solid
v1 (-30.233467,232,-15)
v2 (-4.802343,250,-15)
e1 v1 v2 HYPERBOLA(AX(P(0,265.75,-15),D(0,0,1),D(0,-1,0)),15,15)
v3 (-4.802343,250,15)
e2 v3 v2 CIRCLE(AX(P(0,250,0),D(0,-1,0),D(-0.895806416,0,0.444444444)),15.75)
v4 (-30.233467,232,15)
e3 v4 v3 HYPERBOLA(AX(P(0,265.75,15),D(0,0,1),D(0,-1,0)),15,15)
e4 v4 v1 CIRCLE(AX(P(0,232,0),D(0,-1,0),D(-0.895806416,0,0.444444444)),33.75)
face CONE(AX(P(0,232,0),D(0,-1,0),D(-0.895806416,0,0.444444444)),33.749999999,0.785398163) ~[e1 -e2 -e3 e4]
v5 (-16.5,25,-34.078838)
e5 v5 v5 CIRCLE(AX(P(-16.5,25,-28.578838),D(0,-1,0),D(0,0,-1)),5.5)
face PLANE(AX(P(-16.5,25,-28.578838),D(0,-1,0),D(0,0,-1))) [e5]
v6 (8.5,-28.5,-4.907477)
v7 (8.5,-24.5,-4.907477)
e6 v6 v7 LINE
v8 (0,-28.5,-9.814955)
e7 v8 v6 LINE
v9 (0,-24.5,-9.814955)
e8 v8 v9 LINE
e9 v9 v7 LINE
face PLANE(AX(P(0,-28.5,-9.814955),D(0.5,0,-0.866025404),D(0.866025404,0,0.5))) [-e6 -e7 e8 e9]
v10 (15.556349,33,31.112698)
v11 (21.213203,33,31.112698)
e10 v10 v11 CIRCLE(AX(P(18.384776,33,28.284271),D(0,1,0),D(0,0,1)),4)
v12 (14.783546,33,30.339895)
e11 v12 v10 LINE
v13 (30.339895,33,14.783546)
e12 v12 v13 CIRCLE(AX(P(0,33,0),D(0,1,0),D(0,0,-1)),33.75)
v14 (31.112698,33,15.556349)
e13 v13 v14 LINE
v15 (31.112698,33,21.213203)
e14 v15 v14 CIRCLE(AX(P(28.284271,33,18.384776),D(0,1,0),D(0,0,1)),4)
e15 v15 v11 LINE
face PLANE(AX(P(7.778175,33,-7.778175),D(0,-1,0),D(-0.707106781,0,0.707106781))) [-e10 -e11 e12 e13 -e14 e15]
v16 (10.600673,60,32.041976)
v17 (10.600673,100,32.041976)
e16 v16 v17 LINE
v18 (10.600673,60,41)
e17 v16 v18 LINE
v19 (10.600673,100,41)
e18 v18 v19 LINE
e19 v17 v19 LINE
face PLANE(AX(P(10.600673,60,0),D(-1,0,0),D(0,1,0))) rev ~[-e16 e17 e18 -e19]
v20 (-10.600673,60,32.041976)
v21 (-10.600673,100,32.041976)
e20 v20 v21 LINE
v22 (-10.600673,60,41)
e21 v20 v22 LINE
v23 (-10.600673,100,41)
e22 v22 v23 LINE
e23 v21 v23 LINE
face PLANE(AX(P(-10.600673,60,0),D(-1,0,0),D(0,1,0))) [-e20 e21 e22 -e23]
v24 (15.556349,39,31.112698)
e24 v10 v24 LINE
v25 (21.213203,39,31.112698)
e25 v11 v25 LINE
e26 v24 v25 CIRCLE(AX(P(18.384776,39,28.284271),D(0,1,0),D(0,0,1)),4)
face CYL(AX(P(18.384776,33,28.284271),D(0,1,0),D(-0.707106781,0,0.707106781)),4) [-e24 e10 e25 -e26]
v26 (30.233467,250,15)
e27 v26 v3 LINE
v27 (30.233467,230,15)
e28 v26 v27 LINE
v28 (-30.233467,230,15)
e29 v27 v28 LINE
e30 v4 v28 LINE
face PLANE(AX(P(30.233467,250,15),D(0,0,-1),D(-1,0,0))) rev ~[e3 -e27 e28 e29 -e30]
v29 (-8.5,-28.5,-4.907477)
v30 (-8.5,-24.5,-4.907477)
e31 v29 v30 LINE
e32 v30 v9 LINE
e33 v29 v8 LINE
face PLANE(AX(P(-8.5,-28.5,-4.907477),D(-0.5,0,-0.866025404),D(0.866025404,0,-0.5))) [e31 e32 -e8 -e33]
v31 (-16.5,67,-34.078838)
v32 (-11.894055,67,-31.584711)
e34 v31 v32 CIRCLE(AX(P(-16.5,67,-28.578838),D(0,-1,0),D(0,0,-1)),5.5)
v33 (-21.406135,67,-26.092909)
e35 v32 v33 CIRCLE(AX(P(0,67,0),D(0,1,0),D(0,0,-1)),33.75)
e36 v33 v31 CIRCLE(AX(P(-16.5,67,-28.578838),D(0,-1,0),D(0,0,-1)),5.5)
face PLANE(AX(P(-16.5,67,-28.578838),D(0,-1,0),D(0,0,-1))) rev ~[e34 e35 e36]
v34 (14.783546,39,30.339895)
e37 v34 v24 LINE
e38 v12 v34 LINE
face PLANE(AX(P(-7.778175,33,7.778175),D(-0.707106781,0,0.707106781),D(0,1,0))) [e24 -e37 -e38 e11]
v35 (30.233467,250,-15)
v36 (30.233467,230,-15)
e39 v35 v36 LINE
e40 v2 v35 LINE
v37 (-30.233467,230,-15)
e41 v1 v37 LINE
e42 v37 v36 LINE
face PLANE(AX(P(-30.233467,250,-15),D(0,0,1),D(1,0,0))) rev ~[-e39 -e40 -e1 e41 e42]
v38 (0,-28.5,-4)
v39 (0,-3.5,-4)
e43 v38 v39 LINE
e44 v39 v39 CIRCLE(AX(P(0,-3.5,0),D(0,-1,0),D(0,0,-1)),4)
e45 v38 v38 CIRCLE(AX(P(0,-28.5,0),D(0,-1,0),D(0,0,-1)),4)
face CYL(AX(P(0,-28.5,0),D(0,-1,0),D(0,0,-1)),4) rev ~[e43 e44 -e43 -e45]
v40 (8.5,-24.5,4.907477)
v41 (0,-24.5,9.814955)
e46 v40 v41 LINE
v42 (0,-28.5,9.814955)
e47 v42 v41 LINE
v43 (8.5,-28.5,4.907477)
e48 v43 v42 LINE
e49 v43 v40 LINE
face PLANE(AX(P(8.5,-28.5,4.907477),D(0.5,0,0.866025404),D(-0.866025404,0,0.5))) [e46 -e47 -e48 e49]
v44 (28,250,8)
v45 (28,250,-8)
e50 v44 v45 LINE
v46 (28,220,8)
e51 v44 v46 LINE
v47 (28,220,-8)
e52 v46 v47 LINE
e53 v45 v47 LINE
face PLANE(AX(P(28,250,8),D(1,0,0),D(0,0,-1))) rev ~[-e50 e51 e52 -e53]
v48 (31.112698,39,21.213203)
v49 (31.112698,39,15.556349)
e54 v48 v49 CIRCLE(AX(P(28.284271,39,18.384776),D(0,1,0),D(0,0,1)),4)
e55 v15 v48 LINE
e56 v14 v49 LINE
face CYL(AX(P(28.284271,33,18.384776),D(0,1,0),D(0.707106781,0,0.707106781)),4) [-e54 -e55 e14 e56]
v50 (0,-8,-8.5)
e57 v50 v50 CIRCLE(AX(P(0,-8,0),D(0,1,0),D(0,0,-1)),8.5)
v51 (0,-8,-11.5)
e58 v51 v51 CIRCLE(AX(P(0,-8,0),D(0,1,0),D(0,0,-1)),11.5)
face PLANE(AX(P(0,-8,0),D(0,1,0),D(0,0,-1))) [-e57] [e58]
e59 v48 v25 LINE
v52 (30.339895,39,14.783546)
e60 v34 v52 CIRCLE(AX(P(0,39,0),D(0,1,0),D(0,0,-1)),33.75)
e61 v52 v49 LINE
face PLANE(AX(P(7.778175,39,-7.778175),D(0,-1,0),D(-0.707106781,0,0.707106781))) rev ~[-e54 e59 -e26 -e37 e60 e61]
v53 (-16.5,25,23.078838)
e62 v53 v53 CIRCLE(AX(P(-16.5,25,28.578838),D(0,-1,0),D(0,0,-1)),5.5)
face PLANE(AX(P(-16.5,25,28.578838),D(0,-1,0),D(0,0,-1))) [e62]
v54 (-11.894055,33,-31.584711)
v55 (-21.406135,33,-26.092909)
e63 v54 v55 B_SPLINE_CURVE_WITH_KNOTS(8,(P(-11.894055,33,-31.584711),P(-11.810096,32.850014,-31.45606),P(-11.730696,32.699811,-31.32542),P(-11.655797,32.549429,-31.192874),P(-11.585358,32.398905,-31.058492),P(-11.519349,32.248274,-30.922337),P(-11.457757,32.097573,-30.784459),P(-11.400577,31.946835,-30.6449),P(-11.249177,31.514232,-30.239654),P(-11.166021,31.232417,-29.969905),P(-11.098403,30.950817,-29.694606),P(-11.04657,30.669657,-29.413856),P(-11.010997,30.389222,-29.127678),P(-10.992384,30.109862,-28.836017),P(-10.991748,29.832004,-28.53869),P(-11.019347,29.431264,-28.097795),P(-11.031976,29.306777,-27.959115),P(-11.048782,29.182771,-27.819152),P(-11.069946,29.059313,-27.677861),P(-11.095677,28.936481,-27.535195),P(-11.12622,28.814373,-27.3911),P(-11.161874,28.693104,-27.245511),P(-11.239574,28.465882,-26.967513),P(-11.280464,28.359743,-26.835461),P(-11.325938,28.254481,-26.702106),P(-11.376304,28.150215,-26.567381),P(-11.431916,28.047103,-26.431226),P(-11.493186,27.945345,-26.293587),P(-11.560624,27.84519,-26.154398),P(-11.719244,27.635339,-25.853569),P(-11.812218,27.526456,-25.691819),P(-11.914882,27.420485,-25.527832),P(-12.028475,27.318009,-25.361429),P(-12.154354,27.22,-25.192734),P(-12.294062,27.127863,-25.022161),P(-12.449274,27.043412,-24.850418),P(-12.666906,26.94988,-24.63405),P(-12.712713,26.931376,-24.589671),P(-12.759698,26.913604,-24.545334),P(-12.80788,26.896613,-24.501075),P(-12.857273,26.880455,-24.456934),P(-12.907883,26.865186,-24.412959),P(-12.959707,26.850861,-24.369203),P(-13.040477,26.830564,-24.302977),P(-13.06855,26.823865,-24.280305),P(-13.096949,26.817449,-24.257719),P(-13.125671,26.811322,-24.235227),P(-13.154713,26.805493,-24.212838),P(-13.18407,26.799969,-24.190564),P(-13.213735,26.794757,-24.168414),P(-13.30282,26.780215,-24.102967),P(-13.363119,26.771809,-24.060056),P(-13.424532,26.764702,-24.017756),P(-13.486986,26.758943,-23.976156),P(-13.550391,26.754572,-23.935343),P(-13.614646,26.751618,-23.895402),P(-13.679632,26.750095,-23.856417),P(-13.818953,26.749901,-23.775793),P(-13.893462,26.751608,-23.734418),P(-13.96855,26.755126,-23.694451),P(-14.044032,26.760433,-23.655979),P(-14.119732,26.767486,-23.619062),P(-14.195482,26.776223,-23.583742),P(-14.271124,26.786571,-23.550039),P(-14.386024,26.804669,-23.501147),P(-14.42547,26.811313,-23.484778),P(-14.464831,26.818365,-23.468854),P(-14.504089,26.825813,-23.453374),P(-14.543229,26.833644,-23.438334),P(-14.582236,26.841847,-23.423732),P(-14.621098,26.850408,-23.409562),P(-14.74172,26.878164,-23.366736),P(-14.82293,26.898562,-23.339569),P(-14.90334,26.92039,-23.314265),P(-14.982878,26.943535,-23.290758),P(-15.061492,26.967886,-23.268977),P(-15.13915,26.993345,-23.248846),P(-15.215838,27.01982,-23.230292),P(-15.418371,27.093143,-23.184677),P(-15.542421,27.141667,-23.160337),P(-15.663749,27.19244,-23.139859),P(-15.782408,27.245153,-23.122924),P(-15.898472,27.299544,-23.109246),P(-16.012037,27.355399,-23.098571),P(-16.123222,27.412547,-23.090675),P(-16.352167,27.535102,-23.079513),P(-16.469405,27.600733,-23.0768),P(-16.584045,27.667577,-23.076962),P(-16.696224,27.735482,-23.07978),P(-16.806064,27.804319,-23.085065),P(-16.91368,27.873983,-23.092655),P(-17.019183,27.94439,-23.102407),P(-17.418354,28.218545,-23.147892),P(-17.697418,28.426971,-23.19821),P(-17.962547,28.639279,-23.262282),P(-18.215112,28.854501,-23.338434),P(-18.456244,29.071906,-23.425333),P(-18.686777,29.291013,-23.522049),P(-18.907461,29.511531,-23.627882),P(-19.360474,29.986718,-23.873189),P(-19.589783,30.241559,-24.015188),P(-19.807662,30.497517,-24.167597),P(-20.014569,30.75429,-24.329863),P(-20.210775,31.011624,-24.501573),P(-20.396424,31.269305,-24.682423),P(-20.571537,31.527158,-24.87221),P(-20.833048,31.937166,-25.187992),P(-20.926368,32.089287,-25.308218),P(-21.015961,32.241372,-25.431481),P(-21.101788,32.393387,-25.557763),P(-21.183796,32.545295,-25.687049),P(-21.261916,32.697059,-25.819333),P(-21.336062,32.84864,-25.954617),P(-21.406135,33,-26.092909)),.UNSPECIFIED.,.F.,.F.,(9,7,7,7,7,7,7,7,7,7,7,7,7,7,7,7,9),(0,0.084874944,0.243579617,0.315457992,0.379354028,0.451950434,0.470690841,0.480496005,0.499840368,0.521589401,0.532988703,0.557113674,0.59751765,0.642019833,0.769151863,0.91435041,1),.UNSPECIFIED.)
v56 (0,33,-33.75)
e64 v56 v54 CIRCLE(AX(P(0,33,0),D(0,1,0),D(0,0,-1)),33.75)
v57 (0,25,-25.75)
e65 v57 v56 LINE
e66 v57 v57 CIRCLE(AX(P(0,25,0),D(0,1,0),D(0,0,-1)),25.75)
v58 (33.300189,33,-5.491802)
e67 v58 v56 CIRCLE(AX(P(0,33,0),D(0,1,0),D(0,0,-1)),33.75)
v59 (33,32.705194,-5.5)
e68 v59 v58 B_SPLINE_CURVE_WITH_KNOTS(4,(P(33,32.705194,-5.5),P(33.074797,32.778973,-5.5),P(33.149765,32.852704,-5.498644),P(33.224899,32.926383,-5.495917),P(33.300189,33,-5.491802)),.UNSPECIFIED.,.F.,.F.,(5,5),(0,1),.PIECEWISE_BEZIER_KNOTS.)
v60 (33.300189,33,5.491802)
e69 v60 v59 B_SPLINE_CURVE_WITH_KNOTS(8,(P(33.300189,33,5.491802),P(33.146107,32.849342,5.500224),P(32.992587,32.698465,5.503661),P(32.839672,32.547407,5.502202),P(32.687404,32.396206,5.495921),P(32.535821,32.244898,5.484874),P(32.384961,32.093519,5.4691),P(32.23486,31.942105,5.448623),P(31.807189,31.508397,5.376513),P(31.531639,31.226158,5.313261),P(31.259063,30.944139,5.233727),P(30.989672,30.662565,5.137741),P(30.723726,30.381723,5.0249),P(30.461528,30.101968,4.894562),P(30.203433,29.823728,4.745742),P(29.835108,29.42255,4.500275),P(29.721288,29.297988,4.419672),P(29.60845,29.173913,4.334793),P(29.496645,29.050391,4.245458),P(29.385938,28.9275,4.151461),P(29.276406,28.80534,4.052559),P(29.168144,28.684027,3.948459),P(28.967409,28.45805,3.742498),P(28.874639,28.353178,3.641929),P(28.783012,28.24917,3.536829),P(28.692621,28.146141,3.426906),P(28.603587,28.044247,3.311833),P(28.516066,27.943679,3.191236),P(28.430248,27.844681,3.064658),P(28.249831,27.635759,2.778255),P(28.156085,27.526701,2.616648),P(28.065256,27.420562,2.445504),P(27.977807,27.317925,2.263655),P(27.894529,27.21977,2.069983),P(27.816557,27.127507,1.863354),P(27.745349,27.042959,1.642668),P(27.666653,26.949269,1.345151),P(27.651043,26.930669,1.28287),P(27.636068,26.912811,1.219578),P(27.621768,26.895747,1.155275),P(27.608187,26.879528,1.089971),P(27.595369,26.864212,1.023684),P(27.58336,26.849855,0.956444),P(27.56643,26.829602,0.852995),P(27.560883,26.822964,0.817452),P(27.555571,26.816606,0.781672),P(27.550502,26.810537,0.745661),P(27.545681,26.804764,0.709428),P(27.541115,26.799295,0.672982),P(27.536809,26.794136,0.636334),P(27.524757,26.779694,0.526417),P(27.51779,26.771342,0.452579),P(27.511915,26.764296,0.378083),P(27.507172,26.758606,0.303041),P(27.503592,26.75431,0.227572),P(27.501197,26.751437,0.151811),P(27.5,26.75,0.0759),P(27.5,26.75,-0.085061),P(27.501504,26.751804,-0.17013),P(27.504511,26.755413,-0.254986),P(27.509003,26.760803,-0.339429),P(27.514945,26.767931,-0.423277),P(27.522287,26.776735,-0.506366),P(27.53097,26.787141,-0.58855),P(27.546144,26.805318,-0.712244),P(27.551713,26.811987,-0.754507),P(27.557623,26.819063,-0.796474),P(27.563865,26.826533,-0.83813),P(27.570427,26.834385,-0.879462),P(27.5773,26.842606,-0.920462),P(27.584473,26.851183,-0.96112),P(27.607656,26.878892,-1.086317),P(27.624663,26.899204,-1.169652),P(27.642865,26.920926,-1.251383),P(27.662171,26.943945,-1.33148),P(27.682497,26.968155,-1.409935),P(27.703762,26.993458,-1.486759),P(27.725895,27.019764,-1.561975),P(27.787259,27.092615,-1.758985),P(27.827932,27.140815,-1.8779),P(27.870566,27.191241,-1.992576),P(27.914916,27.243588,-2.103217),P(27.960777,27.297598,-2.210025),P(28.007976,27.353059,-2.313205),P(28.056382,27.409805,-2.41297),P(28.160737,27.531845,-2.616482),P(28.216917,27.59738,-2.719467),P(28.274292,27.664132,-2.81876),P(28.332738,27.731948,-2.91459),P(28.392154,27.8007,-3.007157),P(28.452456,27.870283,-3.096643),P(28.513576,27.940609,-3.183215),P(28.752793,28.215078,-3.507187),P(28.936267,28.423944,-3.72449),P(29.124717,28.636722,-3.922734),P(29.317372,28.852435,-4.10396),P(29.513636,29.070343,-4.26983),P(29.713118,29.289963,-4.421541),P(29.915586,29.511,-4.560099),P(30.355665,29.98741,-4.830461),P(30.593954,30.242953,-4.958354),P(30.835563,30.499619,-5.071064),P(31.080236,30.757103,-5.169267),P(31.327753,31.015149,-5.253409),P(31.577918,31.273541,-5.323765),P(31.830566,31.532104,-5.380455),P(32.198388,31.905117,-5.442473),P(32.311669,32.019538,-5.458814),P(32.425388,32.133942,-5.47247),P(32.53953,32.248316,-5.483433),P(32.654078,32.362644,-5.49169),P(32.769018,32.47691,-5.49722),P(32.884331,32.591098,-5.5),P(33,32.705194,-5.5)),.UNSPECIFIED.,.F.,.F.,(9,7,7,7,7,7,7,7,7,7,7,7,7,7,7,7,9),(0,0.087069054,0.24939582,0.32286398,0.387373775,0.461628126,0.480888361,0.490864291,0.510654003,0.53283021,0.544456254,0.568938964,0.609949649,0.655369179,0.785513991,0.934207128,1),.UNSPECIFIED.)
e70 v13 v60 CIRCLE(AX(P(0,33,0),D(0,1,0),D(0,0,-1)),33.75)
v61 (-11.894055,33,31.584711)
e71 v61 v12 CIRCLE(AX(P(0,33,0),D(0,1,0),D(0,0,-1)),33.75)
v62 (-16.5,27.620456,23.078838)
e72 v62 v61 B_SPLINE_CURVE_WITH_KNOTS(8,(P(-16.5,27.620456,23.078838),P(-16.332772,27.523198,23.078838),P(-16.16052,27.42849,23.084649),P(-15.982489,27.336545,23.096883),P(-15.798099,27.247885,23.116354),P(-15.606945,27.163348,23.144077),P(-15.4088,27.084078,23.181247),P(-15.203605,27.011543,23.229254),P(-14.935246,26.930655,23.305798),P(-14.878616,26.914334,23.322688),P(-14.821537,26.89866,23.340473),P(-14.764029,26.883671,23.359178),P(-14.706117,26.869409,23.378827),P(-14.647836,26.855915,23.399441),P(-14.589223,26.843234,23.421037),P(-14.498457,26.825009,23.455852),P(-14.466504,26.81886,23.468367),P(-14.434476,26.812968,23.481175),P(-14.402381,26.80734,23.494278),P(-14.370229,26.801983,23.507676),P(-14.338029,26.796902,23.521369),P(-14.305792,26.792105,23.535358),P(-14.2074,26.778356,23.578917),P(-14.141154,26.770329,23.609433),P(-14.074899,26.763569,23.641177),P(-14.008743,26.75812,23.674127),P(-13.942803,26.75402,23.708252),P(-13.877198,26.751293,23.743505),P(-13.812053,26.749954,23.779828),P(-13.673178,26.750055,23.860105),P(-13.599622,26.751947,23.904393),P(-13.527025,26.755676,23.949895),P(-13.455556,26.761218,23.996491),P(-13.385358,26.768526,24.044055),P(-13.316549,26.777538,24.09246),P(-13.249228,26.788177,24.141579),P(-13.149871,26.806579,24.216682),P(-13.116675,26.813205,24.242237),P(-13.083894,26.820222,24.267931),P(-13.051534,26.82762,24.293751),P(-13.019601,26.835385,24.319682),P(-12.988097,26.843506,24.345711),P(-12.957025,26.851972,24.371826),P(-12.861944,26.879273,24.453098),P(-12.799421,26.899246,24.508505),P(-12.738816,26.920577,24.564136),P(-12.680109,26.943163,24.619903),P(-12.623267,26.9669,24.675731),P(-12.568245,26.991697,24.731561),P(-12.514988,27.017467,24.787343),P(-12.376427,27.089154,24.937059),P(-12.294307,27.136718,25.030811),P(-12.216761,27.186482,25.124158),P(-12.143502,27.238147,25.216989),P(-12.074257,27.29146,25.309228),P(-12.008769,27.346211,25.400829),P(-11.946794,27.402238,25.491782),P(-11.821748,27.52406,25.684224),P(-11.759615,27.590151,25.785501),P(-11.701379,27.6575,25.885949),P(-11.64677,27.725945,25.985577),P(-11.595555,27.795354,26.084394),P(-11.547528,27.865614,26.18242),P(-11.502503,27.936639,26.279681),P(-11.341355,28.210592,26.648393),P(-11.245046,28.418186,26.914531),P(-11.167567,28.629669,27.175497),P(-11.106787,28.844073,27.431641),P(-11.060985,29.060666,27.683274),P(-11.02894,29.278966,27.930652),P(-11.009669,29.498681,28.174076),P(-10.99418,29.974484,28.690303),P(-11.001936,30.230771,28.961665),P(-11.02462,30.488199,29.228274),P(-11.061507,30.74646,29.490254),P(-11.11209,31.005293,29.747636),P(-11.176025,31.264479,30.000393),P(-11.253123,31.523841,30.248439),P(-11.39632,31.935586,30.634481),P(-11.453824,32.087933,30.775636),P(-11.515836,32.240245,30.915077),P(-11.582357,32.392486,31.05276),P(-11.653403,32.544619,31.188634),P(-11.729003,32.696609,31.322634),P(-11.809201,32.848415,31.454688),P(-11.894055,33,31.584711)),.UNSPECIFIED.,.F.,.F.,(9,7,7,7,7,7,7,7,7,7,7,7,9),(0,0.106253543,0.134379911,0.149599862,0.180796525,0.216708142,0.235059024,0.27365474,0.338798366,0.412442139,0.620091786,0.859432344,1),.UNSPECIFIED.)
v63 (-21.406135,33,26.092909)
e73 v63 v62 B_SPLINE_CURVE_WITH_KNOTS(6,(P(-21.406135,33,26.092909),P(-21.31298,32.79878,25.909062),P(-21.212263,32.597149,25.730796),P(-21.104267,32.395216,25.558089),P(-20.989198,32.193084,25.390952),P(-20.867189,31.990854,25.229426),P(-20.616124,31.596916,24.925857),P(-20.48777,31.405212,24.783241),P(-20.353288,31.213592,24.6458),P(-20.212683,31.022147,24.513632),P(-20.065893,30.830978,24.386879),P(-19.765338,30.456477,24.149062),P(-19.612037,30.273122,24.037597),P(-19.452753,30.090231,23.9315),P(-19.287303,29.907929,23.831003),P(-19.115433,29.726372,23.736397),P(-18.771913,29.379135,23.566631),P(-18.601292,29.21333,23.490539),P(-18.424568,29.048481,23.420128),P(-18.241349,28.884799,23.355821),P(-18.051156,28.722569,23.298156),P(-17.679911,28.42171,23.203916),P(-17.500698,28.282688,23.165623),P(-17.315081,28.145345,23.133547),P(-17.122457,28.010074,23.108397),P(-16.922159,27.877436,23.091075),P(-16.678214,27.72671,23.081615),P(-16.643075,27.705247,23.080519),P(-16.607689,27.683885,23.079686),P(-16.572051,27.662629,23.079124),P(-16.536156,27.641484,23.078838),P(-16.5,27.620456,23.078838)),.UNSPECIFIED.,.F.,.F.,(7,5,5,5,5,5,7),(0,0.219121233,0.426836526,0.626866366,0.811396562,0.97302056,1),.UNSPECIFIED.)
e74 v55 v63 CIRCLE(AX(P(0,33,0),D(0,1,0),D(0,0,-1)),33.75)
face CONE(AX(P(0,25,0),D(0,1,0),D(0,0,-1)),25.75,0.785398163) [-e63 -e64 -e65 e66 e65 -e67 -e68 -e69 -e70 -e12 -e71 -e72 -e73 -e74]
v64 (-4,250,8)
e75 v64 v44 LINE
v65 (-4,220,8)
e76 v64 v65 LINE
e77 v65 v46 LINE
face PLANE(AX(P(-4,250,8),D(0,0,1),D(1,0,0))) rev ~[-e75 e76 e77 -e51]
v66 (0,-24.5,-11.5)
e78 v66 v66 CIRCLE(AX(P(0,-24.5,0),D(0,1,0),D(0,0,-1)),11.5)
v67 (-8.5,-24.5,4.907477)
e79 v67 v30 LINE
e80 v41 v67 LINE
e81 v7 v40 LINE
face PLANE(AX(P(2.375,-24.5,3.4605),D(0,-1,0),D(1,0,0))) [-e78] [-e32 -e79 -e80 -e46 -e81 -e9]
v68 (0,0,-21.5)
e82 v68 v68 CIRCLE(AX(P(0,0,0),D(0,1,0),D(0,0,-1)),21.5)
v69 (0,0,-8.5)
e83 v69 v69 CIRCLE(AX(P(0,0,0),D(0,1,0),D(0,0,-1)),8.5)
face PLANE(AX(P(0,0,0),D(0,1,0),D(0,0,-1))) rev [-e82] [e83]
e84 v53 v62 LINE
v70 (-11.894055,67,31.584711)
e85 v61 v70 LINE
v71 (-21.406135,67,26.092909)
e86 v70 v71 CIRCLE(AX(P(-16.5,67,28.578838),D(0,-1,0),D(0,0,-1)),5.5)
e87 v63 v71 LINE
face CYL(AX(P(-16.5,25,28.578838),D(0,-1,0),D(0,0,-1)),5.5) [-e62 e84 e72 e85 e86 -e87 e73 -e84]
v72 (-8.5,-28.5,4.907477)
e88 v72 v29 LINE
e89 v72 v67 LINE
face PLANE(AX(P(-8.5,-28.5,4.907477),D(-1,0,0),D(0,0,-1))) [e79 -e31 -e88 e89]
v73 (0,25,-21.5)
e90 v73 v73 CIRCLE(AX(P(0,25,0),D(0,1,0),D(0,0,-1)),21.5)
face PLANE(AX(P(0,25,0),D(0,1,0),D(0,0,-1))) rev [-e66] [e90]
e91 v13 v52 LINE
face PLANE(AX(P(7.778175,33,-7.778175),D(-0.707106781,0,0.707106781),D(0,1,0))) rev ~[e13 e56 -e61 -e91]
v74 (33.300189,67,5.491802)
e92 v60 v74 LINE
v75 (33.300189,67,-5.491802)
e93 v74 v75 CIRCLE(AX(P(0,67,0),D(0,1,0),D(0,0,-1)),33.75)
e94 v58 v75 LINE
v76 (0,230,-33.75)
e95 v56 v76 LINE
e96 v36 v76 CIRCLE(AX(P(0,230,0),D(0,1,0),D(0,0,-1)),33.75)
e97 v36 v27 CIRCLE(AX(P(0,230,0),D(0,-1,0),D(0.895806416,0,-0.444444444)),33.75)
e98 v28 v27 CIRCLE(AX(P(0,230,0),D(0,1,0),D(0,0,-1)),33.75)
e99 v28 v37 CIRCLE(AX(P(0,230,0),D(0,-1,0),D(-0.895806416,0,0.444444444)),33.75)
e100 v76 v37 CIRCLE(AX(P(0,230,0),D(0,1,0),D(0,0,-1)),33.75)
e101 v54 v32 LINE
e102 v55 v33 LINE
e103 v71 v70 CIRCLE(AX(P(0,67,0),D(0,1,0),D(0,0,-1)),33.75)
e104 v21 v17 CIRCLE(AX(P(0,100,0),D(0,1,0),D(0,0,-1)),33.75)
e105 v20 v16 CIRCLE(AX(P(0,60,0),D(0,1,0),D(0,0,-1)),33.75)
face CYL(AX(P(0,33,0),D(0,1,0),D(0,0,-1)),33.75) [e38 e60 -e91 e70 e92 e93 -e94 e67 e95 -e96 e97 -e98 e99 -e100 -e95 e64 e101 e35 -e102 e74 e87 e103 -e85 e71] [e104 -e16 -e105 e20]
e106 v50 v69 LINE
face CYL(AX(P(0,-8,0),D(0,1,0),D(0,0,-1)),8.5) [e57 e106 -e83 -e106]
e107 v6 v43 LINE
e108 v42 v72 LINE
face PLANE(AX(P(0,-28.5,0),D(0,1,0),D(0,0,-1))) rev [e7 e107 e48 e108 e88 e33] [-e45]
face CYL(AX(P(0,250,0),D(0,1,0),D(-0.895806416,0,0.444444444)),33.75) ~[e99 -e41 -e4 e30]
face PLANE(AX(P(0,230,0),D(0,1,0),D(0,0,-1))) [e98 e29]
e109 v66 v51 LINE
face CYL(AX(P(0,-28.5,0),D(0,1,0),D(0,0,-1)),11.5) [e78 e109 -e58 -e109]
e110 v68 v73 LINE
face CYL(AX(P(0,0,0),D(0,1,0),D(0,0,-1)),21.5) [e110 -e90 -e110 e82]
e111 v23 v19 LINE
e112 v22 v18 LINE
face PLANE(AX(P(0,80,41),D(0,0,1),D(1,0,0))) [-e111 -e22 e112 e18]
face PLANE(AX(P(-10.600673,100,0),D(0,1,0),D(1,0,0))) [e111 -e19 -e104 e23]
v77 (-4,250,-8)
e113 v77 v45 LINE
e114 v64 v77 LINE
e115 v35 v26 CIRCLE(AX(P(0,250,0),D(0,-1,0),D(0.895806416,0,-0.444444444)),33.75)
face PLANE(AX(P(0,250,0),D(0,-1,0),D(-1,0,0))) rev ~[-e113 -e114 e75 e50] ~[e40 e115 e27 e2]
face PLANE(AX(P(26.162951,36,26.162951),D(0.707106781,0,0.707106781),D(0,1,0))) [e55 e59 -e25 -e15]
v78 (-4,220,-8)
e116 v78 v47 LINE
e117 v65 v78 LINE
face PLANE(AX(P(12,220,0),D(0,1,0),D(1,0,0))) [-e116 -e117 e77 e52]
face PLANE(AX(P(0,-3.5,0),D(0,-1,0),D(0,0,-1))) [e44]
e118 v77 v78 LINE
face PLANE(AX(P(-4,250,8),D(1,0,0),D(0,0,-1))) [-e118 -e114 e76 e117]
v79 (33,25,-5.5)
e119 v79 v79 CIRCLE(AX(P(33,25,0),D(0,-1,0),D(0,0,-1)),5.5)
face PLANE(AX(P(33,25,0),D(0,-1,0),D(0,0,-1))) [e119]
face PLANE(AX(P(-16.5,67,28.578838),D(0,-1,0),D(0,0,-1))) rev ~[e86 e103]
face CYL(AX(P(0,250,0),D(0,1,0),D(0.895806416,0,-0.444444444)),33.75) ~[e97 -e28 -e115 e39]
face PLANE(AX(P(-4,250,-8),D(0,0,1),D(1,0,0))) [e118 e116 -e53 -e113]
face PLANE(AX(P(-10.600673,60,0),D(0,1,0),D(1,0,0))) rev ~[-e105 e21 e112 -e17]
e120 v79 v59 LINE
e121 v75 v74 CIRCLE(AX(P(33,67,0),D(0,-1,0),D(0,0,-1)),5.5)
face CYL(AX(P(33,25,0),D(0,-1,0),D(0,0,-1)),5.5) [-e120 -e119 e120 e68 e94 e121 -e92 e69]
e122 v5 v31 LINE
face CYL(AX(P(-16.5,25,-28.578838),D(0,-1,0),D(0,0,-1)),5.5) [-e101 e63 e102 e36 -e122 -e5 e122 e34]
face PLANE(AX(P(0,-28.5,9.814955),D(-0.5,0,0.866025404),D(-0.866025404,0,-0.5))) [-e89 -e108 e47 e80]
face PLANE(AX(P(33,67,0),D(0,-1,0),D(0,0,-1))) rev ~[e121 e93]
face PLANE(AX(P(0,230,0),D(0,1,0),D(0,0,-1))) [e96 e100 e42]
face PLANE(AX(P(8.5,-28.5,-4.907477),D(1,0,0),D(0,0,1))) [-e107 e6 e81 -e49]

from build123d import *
from build123d.topology import SkipClean

# Parameters (mm, degrees)
SKIZZE2_W                       = 21.201346
SKIZZE2_H                       = 40
AUFSATZ_LINEAR_AUSTRAGEN1_DEPTH = 41
SKIZZE3_R                       = 5.5
AUFSATZ_LINEAR_AUSTRAGEN2_DEPTH = 42
SKIZZE4_R                       = 4
SCHNITT_LINEAR_AUSTRAGEN1_DEPTH = 25
SKIZZE5_OUTSIDE_W               = 129.992
SKIZZE5_OUTSIDE_H               = 132.821
SCHNITT_LINEAR_AUSTRAGEN2_DEPTH = 4
SKIZZE6_W                       = 6
SKIZZE6_H                       = 22
AUFSATZ_LINEAR_AUSTRAGEN3_DEPTH = 37
VERRUNDUNG1_R                   = 4
AUFSATZ_LINEAR_START            = 20
AUFSATZ_LINEAR_AUSTRAGEN4_DEPTH = 20
SKIZZE8_W                       = 32
SKIZZE8_H                       = 16
SCHNITT_LINEAR_AUSTRAGEN3_DEPTH = 30
FASE1_SIZE                      = 18


with BuildPart() as part:
    # Skizze1 → Rotation1 (revolve)
    with BuildSketch(Plane.XY):
        Polygon((8.5, 0), (21.5, 0), (21.5, 25), (25.75, 25), (33.75, 33), (33.75, 230), (0, 230), (0, -28.5), (11.5, -28.5), (11.5, -8), (8.5, -8), align=None)
    revolve(axis=Axis((0, 0, 0), (0, 1, 0)))

    # Skizze2 → Aufsatz-Linear austragen1 (add)
    with BuildSketch(Plane.XY):
        with Locations((0, 80)):
            Rectangle(SKIZZE2_W, SKIZZE2_H)
    extrude(amount=AUFSATZ_LINEAR_AUSTRAGEN1_DEPTH)

    # Skizze3 → Aufsatz-Linear austragen2 (add)
    with BuildSketch(Plane.XZ.offset(-25)):
        with Locations((33, 0)):
            Circle(SKIZZE3_R)
        with Locations((-16.5, 28.578838)):
            Circle(SKIZZE3_R)
        with Locations((-16.5, -28.578838)):
            Circle(SKIZZE3_R)
    extrude(amount=-AUFSATZ_LINEAR_AUSTRAGEN2_DEPTH)

    # Skizze4 → Schnitt-Linear austragen1 (cut)
    with BuildSketch(Plane.XZ.offset(28.5)):
        Circle(SKIZZE4_R)
    extrude(amount=-SCHNITT_LINEAR_AUSTRAGEN1_DEPTH, mode=Mode.SUBTRACT)

    # Skizze5 outside → Schnitt-Linear austragen2 (cut)
    with BuildSketch(Plane.XZ.offset(28.5)):
        with Locations((2.375, 3.4605)):
            Rectangle(SKIZZE5_OUTSIDE_W, SKIZZE5_OUTSIDE_H)
        Polygon((-8.5, -4.907477), (0, -9.814955), (8.5, -4.907477), (8.5, 4.907477), (0, 9.814955), (-8.5, 4.907477), align=None, mode=Mode.SUBTRACT)
    extrude(amount=-SCHNITT_LINEAR_AUSTRAGEN2_DEPTH, mode=Mode.SUBTRACT)

    # Skizze6 → Aufsatz-Linear austragen3 (add)
    with BuildSketch(Plane(origin=(0, 0, 0), x_dir=(0, 1, 0), z_dir=(0.7071067811865488, 0, 0.7071067811865464))):
        with Locations((36, 0)):
            Rectangle(SKIZZE6_W, SKIZZE6_H)
    extrude(amount=AUFSATZ_LINEAR_AUSTRAGEN3_DEPTH)

    # Verrundung1
    verrundung1_edges = [part.edges().sort_by_distance(p)[0] for p in [
        (18.384776, 36, 33.941125),
        (33.941125, 36, 18.384776),
    ]]
    fillet(verrundung1_edges, radius=VERRUNDUNG1_R)

    # Skizze7 → Aufsatz-Linear austragen4 (add)
    with SkipClean():  # the faces are left unmerged after this step: merging them gives an invalid solid
        with BuildSketch(Plane(origin=(0, 230, 0), x_dir=(1, 0, 0), z_dir=(0, 1, 0)).offset(AUFSATZ_LINEAR_START)):
            with BuildLine():
                Line((-30.233467, 15), (30.233467, 15))
                ThreePointArc((30.233467, 15), (33.75, 0), (30.233467, -15))
                Line((30.233467, -15), (-30.233467, -15))
                ThreePointArc((-30.233467, -15), (-33.75, 0), (-30.233467, 15))
            make_face()
        extrude(amount=-AUFSATZ_LINEAR_AUSTRAGEN4_DEPTH)

    # Skizze8 → Schnitt-Linear austragen3 (cut)
    with SkipClean():  # the faces are left unmerged after this step: merging them gives an invalid solid
        with BuildSketch(Plane(origin=(0, 250, 0), x_dir=(1, 0, 0), z_dir=(0, 1, 0))):
            with Locations((12, 0)):
                Rectangle(SKIZZE8_W, SKIZZE8_H)
        extrude(amount=-SCHNITT_LINEAR_AUSTRAGEN3_DEPTH, mode=Mode.SUBTRACT)

    # Fase1
    fase1_edges = [part.edges().sort_by_distance(p)[0] for p in [
        (-33.75, 250, 0),
    ]]
    chamfer(fase1_edges, length=FASE1_SIZE)


solid = part.part
